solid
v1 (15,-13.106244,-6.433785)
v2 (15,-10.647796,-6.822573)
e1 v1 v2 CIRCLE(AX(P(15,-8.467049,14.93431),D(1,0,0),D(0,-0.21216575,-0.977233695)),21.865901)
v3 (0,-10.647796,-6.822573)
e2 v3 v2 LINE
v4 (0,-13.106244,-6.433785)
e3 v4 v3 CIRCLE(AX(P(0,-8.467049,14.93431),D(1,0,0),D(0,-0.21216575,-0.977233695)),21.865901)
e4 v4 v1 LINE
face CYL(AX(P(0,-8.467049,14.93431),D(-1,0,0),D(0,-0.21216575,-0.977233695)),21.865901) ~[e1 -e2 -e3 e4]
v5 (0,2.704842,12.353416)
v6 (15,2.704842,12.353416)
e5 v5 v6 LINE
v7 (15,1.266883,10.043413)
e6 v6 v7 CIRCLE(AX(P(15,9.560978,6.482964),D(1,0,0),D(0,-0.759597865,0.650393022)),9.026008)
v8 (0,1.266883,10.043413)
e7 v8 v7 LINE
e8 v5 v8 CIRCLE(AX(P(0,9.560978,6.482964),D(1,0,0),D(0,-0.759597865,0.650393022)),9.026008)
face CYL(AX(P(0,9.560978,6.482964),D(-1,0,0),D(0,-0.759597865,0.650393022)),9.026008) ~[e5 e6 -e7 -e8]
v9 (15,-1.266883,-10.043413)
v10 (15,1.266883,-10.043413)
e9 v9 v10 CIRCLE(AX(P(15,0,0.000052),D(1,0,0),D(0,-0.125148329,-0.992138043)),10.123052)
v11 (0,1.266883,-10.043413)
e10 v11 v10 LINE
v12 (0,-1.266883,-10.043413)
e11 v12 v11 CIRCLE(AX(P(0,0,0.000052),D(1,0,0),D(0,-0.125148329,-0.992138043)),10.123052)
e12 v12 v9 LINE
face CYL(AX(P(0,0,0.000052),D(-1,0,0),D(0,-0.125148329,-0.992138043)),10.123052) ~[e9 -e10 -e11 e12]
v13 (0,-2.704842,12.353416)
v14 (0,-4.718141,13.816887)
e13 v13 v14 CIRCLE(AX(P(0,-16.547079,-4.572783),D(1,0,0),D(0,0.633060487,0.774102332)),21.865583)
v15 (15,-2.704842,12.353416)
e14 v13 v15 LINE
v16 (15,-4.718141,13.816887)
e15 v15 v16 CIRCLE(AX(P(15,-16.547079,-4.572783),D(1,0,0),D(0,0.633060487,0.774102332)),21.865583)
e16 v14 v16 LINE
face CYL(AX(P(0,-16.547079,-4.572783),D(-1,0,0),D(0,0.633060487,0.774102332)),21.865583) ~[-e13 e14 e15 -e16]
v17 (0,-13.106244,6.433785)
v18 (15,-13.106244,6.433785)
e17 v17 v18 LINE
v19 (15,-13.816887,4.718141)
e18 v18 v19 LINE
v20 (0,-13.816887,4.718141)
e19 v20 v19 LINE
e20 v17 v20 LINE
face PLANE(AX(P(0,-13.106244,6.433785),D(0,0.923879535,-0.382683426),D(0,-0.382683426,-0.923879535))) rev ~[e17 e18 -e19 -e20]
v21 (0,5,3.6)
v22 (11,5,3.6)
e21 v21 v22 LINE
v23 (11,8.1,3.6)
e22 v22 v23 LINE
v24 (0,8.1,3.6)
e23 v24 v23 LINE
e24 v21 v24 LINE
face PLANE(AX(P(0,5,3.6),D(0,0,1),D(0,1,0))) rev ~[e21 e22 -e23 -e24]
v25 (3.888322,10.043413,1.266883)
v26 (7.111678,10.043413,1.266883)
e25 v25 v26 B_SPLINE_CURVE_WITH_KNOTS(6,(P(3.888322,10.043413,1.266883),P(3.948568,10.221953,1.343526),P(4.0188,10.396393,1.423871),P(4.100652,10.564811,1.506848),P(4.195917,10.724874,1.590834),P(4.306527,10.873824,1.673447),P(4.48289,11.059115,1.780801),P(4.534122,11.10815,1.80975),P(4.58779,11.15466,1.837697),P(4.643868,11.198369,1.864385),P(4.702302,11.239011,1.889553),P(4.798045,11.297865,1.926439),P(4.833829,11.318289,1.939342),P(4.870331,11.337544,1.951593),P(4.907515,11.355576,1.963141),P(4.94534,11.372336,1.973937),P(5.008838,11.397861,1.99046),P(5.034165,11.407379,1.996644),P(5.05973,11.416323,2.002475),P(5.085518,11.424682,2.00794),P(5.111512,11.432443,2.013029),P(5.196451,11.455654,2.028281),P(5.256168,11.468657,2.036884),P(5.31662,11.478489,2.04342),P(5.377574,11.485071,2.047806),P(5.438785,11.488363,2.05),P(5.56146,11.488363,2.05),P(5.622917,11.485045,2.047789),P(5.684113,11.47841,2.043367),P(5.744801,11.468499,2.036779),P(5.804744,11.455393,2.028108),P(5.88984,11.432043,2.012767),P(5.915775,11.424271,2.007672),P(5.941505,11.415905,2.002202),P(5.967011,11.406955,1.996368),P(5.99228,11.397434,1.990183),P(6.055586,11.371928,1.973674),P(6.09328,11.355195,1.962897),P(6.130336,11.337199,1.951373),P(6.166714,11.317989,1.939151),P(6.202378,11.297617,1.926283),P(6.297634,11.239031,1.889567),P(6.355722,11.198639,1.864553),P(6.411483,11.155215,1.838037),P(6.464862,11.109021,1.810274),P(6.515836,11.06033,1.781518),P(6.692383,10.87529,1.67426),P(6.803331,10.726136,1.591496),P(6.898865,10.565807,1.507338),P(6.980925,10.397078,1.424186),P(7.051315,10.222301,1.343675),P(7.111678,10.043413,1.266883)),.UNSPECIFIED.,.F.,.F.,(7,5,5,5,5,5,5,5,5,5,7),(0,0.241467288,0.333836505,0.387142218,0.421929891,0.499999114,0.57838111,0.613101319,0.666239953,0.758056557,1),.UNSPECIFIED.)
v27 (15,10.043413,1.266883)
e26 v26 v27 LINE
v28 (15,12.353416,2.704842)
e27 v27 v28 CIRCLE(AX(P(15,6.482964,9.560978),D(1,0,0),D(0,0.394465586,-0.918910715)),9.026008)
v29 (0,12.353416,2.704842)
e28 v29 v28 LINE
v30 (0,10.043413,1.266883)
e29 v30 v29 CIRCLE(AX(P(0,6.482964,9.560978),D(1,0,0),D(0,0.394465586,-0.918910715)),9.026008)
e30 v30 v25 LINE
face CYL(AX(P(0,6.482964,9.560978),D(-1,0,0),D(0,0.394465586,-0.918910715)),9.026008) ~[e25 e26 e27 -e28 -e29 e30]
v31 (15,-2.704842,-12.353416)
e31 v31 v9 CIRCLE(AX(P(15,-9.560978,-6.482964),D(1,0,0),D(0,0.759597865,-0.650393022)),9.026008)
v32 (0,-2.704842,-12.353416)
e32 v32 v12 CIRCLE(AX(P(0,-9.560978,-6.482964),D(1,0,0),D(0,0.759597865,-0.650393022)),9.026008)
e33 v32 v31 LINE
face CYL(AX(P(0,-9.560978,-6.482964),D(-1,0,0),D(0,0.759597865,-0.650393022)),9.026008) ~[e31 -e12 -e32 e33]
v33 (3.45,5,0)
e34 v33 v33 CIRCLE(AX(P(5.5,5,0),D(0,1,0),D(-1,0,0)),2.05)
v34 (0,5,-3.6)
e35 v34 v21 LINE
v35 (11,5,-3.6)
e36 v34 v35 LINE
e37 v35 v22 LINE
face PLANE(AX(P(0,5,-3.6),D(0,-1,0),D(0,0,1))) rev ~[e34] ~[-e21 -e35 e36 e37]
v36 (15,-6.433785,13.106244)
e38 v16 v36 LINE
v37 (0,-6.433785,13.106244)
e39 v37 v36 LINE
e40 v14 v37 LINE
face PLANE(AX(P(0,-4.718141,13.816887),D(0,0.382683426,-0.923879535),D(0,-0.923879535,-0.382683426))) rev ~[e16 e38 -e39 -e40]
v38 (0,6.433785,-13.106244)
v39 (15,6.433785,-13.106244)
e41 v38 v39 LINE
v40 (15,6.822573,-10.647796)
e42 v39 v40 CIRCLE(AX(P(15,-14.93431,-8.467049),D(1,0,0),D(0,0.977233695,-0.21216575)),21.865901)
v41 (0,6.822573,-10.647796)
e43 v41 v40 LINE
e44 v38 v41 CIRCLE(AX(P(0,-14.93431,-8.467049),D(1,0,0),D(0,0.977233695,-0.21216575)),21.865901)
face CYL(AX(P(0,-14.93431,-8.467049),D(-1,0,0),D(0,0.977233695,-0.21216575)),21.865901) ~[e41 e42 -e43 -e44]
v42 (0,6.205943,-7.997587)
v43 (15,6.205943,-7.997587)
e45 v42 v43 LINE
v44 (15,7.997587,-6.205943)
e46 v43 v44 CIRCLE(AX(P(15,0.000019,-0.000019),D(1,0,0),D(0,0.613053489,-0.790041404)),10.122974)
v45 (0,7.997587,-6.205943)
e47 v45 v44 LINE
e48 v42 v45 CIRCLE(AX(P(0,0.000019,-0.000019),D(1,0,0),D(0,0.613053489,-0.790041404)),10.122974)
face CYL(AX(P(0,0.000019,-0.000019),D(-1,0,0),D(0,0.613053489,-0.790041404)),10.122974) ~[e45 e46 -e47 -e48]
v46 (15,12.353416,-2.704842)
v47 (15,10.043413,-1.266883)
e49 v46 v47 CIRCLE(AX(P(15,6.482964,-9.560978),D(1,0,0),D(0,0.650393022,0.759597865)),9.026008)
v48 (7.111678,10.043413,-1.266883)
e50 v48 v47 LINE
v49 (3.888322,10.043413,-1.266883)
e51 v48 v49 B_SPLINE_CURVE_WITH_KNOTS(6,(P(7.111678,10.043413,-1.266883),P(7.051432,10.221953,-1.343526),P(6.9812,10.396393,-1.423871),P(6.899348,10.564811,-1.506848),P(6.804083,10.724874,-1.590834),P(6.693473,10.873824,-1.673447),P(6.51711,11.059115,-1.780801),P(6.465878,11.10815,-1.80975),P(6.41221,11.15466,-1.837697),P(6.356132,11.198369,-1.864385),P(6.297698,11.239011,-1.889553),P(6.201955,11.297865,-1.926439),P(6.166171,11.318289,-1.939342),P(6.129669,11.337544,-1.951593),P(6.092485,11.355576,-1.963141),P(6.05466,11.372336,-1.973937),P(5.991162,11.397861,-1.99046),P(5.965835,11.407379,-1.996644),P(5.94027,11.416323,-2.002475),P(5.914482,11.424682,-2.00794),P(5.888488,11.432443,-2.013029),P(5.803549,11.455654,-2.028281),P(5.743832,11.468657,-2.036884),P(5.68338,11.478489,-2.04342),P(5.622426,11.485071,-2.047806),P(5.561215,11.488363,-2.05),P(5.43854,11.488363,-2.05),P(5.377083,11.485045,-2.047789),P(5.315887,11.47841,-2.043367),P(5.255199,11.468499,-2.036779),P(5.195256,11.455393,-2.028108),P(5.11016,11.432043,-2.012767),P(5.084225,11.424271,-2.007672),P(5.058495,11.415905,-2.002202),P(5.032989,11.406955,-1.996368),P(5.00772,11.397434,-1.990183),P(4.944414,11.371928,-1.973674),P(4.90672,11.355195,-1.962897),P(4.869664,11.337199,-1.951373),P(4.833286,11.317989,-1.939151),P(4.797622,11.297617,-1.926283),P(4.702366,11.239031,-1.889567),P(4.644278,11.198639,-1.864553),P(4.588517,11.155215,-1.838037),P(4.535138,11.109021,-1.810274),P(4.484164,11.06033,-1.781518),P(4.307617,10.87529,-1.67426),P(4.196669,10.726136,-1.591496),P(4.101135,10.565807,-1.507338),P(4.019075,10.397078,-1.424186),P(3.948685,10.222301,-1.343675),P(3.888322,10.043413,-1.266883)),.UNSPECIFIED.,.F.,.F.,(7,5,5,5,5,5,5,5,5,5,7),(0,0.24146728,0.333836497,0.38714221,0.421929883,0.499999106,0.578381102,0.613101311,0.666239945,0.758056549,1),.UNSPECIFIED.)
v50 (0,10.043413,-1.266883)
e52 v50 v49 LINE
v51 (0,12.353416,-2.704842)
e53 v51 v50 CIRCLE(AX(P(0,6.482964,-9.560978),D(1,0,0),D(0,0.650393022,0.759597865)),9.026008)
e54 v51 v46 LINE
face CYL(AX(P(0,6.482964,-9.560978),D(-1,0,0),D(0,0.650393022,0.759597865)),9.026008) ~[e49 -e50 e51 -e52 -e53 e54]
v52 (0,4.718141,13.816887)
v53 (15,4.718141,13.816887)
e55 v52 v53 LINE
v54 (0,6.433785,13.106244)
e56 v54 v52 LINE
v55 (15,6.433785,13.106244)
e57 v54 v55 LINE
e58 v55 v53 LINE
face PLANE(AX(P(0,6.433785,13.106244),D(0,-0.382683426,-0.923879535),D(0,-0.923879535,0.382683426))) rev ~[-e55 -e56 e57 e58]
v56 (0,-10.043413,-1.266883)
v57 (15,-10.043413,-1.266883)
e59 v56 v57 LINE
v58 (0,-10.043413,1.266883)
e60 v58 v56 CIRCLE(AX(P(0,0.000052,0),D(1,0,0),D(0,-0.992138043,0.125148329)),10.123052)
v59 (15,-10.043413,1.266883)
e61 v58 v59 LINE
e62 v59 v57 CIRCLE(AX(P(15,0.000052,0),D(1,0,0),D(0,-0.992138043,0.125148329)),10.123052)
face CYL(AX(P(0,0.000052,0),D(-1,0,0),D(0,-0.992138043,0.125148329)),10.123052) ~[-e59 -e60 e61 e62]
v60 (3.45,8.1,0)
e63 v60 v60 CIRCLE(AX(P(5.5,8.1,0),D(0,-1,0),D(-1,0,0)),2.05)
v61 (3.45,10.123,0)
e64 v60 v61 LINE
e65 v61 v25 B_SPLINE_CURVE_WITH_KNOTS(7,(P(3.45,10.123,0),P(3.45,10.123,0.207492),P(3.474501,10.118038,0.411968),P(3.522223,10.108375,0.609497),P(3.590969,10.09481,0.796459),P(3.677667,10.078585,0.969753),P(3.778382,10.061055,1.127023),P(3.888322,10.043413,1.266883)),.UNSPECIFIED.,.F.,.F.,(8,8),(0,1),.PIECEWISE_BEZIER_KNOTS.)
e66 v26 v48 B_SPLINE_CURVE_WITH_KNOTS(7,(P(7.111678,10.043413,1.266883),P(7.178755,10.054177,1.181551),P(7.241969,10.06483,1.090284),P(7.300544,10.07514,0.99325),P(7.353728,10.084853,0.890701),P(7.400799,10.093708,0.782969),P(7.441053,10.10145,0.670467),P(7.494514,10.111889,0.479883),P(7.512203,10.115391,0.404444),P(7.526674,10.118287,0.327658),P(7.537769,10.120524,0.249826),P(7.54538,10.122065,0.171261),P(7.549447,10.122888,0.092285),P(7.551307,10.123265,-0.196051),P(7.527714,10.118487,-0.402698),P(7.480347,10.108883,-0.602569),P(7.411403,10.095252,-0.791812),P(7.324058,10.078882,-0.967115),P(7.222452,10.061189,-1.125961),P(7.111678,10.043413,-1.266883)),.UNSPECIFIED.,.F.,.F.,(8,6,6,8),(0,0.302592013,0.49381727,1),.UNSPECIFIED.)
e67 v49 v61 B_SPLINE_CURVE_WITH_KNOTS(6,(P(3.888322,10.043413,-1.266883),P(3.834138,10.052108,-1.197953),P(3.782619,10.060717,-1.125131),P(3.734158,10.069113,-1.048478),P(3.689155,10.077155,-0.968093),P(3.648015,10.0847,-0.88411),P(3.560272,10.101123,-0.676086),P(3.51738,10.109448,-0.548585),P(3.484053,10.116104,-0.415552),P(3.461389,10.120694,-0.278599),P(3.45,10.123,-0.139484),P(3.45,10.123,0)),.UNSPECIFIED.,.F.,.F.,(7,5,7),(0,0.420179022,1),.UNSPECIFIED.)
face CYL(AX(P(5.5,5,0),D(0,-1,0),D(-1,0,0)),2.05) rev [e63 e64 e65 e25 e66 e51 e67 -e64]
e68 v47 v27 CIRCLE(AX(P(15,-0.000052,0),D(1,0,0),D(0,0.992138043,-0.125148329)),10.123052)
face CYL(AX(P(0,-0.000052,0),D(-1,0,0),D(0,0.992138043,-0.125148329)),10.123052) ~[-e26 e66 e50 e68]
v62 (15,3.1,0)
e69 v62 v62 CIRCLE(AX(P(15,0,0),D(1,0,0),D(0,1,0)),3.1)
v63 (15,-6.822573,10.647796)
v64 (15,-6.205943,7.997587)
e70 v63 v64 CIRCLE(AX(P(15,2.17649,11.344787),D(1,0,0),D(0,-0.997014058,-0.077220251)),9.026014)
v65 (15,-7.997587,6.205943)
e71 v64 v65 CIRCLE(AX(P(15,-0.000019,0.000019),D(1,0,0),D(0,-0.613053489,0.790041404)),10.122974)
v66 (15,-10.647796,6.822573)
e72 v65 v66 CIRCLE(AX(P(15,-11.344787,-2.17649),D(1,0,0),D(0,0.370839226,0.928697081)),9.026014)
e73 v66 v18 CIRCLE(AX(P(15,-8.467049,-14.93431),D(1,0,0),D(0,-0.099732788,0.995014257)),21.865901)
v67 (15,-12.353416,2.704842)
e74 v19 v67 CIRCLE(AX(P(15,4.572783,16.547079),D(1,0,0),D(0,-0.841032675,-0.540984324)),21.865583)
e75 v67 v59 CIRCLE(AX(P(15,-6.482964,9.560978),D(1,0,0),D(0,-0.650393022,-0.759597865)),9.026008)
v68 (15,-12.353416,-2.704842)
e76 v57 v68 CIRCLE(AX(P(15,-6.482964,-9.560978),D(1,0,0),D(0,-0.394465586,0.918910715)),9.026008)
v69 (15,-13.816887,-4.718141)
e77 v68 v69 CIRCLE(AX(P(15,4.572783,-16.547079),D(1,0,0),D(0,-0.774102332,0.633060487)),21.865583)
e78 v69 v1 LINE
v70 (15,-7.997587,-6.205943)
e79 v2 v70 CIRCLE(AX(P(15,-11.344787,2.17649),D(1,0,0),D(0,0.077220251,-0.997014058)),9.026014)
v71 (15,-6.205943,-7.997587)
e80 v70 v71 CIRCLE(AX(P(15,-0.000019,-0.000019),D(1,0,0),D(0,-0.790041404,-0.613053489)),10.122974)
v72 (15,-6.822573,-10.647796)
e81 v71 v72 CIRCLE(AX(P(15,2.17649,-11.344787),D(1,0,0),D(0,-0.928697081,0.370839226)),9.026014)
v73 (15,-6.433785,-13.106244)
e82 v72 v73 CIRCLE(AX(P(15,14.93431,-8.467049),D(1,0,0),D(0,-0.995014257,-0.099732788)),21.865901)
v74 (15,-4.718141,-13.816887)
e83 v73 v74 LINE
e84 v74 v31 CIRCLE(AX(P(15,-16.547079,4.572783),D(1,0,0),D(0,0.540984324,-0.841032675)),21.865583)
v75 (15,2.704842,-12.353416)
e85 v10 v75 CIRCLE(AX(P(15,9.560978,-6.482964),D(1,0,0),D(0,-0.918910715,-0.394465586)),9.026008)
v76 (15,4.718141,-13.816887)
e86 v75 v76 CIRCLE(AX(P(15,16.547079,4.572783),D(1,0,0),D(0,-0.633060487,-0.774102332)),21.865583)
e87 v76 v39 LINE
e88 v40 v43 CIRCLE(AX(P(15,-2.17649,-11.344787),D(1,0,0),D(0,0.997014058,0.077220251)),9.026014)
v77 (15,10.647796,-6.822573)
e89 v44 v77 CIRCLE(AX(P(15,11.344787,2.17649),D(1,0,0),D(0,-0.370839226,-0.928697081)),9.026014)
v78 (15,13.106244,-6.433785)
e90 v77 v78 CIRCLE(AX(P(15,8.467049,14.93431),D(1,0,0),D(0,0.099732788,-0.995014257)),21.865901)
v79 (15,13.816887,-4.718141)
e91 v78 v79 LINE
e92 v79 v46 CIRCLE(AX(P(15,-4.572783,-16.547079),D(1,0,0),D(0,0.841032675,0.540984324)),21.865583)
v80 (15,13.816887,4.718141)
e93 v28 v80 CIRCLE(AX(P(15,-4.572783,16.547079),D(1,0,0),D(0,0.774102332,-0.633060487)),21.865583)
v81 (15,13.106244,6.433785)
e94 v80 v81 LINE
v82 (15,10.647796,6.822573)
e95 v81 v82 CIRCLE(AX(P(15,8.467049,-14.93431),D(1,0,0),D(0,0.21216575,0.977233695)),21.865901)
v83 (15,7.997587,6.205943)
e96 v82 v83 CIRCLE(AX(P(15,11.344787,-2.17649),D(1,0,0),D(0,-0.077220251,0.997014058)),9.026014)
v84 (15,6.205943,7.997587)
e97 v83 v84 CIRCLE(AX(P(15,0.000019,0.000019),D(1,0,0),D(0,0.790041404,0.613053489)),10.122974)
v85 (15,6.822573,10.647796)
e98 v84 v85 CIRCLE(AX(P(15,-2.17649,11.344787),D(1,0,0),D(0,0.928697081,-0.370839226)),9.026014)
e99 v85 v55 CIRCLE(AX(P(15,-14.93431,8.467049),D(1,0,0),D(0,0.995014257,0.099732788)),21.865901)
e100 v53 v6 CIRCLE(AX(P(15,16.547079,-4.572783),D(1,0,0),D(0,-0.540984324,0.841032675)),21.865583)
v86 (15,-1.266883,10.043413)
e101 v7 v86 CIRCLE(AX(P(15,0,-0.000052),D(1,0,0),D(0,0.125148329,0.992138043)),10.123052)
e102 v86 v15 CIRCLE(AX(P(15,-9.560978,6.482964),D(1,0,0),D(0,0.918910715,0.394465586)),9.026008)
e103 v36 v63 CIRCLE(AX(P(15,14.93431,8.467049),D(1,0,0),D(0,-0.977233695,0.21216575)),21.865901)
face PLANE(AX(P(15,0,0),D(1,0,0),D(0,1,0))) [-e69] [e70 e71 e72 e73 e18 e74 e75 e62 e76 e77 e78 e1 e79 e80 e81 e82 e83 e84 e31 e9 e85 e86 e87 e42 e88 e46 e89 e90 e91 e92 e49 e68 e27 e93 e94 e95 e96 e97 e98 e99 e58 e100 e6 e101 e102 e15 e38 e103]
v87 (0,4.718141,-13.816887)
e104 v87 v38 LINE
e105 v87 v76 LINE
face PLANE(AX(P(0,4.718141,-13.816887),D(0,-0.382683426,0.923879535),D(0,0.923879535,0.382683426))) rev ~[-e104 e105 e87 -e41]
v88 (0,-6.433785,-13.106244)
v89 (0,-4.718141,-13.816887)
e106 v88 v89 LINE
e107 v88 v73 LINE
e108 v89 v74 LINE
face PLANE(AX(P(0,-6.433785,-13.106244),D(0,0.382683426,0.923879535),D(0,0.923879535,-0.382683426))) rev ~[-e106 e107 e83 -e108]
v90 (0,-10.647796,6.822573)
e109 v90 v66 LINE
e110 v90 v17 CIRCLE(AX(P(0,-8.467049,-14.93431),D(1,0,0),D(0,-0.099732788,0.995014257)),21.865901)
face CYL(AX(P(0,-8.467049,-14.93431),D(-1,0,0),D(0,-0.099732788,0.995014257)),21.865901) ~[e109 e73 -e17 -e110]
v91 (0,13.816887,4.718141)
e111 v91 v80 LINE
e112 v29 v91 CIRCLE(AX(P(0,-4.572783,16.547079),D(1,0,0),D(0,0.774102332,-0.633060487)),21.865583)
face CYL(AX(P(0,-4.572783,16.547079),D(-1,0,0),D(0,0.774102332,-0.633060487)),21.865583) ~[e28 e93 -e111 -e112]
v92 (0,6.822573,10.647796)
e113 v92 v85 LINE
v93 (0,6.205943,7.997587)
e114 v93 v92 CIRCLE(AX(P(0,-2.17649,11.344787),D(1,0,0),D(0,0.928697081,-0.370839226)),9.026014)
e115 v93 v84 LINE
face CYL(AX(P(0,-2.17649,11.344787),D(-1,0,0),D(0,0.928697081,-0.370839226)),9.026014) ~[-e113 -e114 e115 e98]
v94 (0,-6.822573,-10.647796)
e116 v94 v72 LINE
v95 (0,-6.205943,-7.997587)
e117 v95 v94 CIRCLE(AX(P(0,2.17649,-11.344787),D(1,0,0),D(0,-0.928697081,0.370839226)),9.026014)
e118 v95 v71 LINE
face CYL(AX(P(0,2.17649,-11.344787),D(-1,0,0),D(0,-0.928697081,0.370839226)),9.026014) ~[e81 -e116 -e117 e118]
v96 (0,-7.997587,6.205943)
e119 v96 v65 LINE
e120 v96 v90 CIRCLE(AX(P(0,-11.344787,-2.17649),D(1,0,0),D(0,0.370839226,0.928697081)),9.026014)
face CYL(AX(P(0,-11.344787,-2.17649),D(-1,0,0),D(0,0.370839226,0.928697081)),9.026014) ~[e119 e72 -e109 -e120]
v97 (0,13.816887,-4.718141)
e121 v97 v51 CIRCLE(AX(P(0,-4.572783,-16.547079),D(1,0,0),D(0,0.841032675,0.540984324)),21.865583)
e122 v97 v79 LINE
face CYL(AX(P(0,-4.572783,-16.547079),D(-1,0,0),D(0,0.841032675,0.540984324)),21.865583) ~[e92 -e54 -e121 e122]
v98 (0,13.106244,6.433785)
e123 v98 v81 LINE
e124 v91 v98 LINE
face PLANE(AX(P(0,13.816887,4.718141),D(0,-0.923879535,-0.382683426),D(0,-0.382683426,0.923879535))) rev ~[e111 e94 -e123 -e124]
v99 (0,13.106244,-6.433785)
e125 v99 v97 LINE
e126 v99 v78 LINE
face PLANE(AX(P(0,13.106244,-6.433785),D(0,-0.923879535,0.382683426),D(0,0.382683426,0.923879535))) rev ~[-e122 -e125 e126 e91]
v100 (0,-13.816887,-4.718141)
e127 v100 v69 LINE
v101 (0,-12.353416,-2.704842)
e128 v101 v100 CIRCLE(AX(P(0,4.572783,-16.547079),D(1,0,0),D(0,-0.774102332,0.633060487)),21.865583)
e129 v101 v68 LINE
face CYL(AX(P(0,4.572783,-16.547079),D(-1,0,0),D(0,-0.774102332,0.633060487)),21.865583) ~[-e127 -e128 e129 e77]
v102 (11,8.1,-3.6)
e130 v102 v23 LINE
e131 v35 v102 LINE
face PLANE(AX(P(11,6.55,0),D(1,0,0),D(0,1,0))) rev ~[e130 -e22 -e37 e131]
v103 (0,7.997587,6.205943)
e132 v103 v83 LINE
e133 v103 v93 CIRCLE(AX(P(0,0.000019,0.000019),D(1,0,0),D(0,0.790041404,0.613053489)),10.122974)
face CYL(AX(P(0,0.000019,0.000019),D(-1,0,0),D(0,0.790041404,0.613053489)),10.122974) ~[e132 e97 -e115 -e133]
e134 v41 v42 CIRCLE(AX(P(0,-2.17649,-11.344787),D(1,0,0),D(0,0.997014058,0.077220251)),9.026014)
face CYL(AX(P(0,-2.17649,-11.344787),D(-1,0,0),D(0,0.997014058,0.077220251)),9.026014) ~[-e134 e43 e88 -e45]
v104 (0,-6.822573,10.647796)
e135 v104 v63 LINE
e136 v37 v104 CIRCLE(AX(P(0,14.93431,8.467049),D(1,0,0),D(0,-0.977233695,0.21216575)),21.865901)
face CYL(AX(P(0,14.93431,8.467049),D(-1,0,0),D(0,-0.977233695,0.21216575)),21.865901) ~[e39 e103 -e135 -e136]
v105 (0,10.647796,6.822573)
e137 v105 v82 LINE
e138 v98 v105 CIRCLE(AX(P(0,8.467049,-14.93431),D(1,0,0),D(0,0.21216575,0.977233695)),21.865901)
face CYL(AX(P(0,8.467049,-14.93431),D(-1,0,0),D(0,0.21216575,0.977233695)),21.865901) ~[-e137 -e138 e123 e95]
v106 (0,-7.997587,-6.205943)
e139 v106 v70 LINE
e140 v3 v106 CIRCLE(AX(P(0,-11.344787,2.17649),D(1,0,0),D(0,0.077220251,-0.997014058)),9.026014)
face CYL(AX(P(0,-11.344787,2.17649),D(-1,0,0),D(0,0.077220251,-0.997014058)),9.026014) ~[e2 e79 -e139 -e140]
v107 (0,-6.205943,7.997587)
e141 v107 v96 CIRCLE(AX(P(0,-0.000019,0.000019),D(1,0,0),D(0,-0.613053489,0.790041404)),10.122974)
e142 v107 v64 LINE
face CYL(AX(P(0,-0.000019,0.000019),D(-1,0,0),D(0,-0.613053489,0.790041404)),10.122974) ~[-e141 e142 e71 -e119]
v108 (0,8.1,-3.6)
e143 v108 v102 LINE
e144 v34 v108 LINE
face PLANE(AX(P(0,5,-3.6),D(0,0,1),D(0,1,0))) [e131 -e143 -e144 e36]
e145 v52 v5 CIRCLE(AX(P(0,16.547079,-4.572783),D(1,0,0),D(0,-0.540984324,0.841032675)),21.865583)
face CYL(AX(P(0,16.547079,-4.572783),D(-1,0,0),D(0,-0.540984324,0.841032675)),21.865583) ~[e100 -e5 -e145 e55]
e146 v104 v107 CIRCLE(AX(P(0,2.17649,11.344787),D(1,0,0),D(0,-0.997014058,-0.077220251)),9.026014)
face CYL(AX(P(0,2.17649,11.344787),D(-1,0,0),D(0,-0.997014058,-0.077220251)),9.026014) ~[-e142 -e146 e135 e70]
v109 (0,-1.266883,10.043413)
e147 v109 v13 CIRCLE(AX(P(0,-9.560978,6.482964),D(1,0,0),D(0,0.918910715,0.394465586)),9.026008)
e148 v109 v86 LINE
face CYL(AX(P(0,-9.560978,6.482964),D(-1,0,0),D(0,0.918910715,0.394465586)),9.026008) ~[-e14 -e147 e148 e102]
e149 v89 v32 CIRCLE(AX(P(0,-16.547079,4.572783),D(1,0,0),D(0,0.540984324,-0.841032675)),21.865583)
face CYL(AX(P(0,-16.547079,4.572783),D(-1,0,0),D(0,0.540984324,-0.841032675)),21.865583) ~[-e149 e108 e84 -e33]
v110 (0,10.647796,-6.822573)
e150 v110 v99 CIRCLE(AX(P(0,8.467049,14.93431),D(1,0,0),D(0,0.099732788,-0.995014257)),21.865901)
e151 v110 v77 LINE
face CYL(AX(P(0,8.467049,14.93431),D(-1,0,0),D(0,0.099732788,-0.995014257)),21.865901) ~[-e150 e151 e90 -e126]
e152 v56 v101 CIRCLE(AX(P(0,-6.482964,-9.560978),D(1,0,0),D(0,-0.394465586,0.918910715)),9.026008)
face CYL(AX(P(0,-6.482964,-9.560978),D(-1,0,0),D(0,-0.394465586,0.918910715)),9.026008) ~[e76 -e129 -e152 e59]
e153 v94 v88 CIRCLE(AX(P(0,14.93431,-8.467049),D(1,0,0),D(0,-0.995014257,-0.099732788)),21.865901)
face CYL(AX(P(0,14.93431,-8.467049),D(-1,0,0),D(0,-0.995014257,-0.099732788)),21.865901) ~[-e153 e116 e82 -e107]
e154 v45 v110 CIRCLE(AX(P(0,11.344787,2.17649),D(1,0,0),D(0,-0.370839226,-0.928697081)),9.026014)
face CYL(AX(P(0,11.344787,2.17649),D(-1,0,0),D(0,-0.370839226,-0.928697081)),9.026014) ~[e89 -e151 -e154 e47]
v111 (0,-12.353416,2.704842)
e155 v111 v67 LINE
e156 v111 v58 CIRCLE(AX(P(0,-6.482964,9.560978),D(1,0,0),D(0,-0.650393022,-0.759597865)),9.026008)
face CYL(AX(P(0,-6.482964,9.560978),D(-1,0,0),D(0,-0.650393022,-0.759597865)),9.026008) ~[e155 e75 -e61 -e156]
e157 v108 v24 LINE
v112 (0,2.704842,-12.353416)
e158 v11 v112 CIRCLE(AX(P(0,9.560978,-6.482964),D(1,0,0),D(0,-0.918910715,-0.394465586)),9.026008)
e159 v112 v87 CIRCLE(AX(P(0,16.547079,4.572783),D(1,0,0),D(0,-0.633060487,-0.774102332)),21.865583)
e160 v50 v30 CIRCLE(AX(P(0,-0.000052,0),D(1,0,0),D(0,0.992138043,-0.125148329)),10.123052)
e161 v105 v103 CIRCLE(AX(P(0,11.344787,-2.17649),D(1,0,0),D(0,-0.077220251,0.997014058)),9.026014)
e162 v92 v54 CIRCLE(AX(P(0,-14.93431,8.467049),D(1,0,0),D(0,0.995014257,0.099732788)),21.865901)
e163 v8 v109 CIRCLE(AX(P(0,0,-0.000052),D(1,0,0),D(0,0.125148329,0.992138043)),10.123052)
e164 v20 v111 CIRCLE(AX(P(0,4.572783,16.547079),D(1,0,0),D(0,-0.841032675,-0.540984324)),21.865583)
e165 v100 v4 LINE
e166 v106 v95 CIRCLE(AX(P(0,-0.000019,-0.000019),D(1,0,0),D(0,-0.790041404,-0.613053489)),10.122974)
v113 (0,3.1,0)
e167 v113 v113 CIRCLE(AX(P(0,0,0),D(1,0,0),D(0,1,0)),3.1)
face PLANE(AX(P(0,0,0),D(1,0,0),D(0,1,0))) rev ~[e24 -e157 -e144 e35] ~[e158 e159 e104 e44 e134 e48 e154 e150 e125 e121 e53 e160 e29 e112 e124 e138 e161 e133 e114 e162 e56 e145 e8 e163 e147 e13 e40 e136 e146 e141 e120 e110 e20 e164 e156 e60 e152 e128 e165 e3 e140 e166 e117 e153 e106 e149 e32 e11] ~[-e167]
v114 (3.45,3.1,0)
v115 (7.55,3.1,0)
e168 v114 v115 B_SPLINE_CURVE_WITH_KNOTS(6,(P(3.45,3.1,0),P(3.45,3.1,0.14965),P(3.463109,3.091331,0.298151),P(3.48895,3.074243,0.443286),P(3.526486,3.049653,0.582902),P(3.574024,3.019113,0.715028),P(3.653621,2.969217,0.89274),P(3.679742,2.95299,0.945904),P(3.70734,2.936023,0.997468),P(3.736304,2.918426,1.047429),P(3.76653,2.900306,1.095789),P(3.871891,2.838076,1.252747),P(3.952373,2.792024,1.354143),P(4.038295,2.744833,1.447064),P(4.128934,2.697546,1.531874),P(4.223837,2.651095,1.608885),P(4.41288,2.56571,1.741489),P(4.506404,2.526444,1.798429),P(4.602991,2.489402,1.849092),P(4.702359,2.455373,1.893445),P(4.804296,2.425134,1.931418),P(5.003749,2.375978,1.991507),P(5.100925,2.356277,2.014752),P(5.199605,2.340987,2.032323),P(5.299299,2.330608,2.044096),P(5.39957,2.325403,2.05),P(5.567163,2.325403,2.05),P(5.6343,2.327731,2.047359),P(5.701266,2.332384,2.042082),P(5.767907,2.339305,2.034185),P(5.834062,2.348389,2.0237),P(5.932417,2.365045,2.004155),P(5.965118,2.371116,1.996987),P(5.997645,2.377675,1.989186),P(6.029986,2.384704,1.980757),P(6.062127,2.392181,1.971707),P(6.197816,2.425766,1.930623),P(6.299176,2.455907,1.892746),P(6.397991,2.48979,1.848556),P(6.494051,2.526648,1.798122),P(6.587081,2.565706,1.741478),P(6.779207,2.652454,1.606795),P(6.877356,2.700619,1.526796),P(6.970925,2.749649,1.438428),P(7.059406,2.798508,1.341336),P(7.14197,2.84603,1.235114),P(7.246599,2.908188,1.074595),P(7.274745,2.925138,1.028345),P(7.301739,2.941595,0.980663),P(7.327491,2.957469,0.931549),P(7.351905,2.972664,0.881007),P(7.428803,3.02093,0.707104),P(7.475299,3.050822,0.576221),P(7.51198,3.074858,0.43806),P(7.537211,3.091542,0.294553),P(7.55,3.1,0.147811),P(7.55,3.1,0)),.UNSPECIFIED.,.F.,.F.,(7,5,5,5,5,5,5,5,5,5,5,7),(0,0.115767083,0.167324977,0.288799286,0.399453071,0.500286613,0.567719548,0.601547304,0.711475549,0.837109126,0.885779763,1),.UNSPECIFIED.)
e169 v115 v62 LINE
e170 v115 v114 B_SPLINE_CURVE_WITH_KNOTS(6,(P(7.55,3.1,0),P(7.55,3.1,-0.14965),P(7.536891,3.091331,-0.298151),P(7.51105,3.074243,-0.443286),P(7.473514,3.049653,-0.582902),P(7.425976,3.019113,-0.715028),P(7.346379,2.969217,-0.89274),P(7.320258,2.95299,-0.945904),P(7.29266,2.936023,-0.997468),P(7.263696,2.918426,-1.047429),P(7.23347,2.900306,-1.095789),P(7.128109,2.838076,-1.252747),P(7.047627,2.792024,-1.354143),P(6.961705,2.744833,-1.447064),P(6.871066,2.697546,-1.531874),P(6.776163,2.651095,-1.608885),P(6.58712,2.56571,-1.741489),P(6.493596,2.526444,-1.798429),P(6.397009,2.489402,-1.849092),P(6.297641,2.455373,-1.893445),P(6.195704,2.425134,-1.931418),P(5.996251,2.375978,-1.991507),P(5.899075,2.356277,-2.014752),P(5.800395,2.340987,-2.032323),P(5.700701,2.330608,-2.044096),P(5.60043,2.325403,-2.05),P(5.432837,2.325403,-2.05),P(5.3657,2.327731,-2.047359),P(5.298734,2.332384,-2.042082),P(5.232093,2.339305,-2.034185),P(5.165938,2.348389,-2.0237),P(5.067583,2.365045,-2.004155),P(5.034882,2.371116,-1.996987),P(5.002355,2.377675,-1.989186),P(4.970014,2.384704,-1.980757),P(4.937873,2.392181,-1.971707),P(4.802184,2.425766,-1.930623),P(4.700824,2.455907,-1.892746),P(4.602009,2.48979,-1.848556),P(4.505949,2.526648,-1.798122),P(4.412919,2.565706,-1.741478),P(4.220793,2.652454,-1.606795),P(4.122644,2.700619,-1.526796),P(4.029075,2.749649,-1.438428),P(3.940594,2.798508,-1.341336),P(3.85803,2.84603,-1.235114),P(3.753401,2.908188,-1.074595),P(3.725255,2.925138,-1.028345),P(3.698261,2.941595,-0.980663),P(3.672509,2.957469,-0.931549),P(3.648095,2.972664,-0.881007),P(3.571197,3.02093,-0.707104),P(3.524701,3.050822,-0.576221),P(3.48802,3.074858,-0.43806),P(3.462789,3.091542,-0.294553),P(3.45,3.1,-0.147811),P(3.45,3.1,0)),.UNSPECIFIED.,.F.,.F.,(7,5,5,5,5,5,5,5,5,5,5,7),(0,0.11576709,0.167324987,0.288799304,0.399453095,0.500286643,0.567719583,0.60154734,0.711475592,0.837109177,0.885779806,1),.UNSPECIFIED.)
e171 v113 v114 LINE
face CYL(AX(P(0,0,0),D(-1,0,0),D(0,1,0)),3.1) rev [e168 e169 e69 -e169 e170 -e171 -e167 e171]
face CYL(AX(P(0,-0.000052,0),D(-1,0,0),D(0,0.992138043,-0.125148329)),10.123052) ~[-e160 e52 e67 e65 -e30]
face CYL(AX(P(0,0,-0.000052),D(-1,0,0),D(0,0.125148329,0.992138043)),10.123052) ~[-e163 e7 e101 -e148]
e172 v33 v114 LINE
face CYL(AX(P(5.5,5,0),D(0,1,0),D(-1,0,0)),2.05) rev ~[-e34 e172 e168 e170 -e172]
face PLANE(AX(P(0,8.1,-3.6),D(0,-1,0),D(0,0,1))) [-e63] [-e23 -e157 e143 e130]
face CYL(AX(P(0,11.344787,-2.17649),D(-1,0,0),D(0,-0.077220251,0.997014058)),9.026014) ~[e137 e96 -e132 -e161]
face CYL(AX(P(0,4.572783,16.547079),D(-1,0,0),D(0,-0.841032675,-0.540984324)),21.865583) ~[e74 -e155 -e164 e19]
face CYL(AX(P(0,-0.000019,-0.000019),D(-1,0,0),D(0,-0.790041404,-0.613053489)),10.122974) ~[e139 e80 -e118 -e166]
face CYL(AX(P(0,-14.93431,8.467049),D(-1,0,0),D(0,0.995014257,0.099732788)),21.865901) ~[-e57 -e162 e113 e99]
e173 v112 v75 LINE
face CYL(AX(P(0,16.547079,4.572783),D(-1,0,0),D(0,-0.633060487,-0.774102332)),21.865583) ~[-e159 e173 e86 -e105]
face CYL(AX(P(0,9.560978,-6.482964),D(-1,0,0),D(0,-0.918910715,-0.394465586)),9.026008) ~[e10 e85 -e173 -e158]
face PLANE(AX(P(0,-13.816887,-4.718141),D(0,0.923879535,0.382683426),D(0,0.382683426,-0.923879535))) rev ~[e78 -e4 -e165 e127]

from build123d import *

# Parameters (mm, degrees)
F0_R     = 3.1
F0_W     = 3.1
F0_H     = 7.2
F1_DEPTH = 15
F2_DEPTH = 11
F3_R     = 2.05
F4_DEPTH = 5
F5_DEPTH = 25


with BuildPart() as f1:
    # F0 (on Right) → F1 (new body)
    with BuildSketch(Plane.YZ):
        with BuildLine():
            ThreePointArc((2.704842, 12.353416), (1.898315, 11.252912), (1.266883, 10.043413))
            ThreePointArc((1.266883, 10.043413), (0, 10.123), (-1.266883, 10.043413))
            ThreePointArc((-1.266883, 10.043413), (-1.898315, 11.252912), (-2.704842, 12.353416))
            ThreePointArc((-2.704842, 12.353416), (-3.690651, 13.113822), (-4.718141, 13.816887))
            Line((-4.718141, 13.816887), (-6.433785, 13.106244))
            ThreePointArc((-6.433785, 13.106244), (-6.663188, 11.882557), (-6.822573, 10.647796))
            ThreePointArc((-6.822573, 10.647796), (-6.614699, 9.299322), (-6.205943, 7.997587))
            ThreePointArc((-6.205943, 7.997587), (-7.158042, 7.158042), (-7.997587, 6.205943))
            ThreePointArc((-7.997587, 6.205943), (-9.299322, 6.614699), (-10.647796, 6.822573))
            ThreePointArc((-10.647796, 6.822573), (-11.882557, 6.663188), (-13.106244, 6.433785))
            Line((-13.106244, 6.433785), (-13.816887, 4.718141))
            ThreePointArc((-13.816887, 4.718141), (-13.113822, 3.690651), (-12.353416, 2.704842))
            ThreePointArc((-12.353416, 2.704842), (-11.252912, 1.898315), (-10.043413, 1.266883))
            ThreePointArc((-10.043413, 1.266883), (-10.123, 0), (-10.043413, -1.266883))
            ThreePointArc((-10.043413, -1.266883), (-11.252912, -1.898315), (-12.353416, -2.704842))
            ThreePointArc((-12.353416, -2.704842), (-13.113822, -3.690651), (-13.816887, -4.718141))
            Line((-13.816887, -4.718141), (-13.106244, -6.433785))
            ThreePointArc((-13.106244, -6.433785), (-11.882557, -6.663188), (-10.647796, -6.822573))
            ThreePointArc((-10.647796, -6.822573), (-9.299322, -6.614699), (-7.997587, -6.205943))
            ThreePointArc((-7.997587, -6.205943), (-7.158042, -7.158042), (-6.205943, -7.997587))
            ThreePointArc((-6.205943, -7.997587), (-6.614699, -9.299322), (-6.822573, -10.647796))
            ThreePointArc((-6.822573, -10.647796), (-6.663188, -11.882557), (-6.433785, -13.106244))
            Line((-6.433785, -13.106244), (-4.718141, -13.816887))
            ThreePointArc((-4.718141, -13.816887), (-3.690651, -13.113822), (-2.704842, -12.353416))
            ThreePointArc((-2.704842, -12.353416), (-1.898315, -11.252912), (-1.266883, -10.043413))
            ThreePointArc((-1.266883, -10.043413), (0, -10.123), (1.266883, -10.043413))
            ThreePointArc((1.266883, -10.043413), (1.898315, -11.252912), (2.704842, -12.353416))
            ThreePointArc((2.704842, -12.353416), (3.690651, -13.113822), (4.718141, -13.816887))
            Line((4.718141, -13.816887), (6.433785, -13.106244))
            ThreePointArc((6.433785, -13.106244), (6.663188, -11.882557), (6.822573, -10.647796))
            ThreePointArc((6.822573, -10.647796), (6.614699, -9.299322), (6.205943, -7.997587))
            ThreePointArc((6.205943, -7.997587), (7.158042, -7.158042), (7.997587, -6.205943))
            ThreePointArc((7.997587, -6.205943), (9.299322, -6.614699), (10.647796, -6.822573))
            ThreePointArc((10.647796, -6.822573), (11.882557, -6.663188), (13.106244, -6.433785))
            Line((13.106244, -6.433785), (13.816887, -4.718141))
            ThreePointArc((13.816887, -4.718141), (13.113822, -3.690651), (12.353416, -2.704842))
            ThreePointArc((12.353416, -2.704842), (11.252912, -1.898315), (10.043413, -1.266883))
            ThreePointArc((10.043413, -1.266883), (10.123, 0), (10.043413, 1.266883))
            ThreePointArc((10.043413, 1.266883), (11.252912, 1.898315), (12.353416, 2.704842))
            ThreePointArc((12.353416, 2.704842), (13.113822, 3.690651), (13.816887, 4.718141))
            Line((13.816887, 4.718141), (13.106244, 6.433785))
            ThreePointArc((13.106244, 6.433785), (11.882557, 6.663188), (10.647796, 6.822573))
            ThreePointArc((10.647796, 6.822573), (9.299322, 6.614699), (7.997587, 6.205943))
            ThreePointArc((7.997587, 6.205943), (7.158042, 7.158042), (6.205943, 7.997587))
            ThreePointArc((6.205943, 7.997587), (6.614699, 9.299322), (6.822573, 10.647796))
            ThreePointArc((6.822573, 10.647796), (6.663188, 11.882557), (6.433785, 13.106244))
            Line((6.433785, 13.106244), (4.718141, 13.816887))
            ThreePointArc((4.718141, 13.816887), (3.690651, 13.113822), (2.704842, 12.353416))
        make_face()
        Circle(F0_R, mode=Mode.SUBTRACT)
        with Locations((6.55, 0)):
            Rectangle(F0_W, F0_H, mode=Mode.SUBTRACT)
        with Locations((6.55, 0)):
            Rectangle(F0_W, F0_H)
    extrude(amount=F1_DEPTH)

    # F0 (on Right) → F2 (cut)
    with BuildSketch(Plane.YZ):
        with Locations((6.55, 0)):
            Rectangle(F0_W, F0_H)
    extrude(amount=F2_DEPTH, mode=Mode.SUBTRACT)

    # F3 (on face) → F4 (cut)
    with BuildSketch(Plane(origin=(0, 5, 0), x_dir=(-1, 0, 0), z_dir=(0, 1, 0))):
        with Locations((-5.5, 0)):
            Circle(F3_R)
    extrude(amount=-F4_DEPTH, mode=Mode.SUBTRACT)

    # F3 (on face) → F5 (cut)
    with BuildSketch(Plane(origin=(0, 5, 0), x_dir=(-1, 0, 0), z_dir=(0, 1, 0))):
        with Locations((-5.5, 0)):
            Circle(F3_R)
    extrude(amount=F5_DEPTH, mode=Mode.SUBTRACT)


solid = f1.part
